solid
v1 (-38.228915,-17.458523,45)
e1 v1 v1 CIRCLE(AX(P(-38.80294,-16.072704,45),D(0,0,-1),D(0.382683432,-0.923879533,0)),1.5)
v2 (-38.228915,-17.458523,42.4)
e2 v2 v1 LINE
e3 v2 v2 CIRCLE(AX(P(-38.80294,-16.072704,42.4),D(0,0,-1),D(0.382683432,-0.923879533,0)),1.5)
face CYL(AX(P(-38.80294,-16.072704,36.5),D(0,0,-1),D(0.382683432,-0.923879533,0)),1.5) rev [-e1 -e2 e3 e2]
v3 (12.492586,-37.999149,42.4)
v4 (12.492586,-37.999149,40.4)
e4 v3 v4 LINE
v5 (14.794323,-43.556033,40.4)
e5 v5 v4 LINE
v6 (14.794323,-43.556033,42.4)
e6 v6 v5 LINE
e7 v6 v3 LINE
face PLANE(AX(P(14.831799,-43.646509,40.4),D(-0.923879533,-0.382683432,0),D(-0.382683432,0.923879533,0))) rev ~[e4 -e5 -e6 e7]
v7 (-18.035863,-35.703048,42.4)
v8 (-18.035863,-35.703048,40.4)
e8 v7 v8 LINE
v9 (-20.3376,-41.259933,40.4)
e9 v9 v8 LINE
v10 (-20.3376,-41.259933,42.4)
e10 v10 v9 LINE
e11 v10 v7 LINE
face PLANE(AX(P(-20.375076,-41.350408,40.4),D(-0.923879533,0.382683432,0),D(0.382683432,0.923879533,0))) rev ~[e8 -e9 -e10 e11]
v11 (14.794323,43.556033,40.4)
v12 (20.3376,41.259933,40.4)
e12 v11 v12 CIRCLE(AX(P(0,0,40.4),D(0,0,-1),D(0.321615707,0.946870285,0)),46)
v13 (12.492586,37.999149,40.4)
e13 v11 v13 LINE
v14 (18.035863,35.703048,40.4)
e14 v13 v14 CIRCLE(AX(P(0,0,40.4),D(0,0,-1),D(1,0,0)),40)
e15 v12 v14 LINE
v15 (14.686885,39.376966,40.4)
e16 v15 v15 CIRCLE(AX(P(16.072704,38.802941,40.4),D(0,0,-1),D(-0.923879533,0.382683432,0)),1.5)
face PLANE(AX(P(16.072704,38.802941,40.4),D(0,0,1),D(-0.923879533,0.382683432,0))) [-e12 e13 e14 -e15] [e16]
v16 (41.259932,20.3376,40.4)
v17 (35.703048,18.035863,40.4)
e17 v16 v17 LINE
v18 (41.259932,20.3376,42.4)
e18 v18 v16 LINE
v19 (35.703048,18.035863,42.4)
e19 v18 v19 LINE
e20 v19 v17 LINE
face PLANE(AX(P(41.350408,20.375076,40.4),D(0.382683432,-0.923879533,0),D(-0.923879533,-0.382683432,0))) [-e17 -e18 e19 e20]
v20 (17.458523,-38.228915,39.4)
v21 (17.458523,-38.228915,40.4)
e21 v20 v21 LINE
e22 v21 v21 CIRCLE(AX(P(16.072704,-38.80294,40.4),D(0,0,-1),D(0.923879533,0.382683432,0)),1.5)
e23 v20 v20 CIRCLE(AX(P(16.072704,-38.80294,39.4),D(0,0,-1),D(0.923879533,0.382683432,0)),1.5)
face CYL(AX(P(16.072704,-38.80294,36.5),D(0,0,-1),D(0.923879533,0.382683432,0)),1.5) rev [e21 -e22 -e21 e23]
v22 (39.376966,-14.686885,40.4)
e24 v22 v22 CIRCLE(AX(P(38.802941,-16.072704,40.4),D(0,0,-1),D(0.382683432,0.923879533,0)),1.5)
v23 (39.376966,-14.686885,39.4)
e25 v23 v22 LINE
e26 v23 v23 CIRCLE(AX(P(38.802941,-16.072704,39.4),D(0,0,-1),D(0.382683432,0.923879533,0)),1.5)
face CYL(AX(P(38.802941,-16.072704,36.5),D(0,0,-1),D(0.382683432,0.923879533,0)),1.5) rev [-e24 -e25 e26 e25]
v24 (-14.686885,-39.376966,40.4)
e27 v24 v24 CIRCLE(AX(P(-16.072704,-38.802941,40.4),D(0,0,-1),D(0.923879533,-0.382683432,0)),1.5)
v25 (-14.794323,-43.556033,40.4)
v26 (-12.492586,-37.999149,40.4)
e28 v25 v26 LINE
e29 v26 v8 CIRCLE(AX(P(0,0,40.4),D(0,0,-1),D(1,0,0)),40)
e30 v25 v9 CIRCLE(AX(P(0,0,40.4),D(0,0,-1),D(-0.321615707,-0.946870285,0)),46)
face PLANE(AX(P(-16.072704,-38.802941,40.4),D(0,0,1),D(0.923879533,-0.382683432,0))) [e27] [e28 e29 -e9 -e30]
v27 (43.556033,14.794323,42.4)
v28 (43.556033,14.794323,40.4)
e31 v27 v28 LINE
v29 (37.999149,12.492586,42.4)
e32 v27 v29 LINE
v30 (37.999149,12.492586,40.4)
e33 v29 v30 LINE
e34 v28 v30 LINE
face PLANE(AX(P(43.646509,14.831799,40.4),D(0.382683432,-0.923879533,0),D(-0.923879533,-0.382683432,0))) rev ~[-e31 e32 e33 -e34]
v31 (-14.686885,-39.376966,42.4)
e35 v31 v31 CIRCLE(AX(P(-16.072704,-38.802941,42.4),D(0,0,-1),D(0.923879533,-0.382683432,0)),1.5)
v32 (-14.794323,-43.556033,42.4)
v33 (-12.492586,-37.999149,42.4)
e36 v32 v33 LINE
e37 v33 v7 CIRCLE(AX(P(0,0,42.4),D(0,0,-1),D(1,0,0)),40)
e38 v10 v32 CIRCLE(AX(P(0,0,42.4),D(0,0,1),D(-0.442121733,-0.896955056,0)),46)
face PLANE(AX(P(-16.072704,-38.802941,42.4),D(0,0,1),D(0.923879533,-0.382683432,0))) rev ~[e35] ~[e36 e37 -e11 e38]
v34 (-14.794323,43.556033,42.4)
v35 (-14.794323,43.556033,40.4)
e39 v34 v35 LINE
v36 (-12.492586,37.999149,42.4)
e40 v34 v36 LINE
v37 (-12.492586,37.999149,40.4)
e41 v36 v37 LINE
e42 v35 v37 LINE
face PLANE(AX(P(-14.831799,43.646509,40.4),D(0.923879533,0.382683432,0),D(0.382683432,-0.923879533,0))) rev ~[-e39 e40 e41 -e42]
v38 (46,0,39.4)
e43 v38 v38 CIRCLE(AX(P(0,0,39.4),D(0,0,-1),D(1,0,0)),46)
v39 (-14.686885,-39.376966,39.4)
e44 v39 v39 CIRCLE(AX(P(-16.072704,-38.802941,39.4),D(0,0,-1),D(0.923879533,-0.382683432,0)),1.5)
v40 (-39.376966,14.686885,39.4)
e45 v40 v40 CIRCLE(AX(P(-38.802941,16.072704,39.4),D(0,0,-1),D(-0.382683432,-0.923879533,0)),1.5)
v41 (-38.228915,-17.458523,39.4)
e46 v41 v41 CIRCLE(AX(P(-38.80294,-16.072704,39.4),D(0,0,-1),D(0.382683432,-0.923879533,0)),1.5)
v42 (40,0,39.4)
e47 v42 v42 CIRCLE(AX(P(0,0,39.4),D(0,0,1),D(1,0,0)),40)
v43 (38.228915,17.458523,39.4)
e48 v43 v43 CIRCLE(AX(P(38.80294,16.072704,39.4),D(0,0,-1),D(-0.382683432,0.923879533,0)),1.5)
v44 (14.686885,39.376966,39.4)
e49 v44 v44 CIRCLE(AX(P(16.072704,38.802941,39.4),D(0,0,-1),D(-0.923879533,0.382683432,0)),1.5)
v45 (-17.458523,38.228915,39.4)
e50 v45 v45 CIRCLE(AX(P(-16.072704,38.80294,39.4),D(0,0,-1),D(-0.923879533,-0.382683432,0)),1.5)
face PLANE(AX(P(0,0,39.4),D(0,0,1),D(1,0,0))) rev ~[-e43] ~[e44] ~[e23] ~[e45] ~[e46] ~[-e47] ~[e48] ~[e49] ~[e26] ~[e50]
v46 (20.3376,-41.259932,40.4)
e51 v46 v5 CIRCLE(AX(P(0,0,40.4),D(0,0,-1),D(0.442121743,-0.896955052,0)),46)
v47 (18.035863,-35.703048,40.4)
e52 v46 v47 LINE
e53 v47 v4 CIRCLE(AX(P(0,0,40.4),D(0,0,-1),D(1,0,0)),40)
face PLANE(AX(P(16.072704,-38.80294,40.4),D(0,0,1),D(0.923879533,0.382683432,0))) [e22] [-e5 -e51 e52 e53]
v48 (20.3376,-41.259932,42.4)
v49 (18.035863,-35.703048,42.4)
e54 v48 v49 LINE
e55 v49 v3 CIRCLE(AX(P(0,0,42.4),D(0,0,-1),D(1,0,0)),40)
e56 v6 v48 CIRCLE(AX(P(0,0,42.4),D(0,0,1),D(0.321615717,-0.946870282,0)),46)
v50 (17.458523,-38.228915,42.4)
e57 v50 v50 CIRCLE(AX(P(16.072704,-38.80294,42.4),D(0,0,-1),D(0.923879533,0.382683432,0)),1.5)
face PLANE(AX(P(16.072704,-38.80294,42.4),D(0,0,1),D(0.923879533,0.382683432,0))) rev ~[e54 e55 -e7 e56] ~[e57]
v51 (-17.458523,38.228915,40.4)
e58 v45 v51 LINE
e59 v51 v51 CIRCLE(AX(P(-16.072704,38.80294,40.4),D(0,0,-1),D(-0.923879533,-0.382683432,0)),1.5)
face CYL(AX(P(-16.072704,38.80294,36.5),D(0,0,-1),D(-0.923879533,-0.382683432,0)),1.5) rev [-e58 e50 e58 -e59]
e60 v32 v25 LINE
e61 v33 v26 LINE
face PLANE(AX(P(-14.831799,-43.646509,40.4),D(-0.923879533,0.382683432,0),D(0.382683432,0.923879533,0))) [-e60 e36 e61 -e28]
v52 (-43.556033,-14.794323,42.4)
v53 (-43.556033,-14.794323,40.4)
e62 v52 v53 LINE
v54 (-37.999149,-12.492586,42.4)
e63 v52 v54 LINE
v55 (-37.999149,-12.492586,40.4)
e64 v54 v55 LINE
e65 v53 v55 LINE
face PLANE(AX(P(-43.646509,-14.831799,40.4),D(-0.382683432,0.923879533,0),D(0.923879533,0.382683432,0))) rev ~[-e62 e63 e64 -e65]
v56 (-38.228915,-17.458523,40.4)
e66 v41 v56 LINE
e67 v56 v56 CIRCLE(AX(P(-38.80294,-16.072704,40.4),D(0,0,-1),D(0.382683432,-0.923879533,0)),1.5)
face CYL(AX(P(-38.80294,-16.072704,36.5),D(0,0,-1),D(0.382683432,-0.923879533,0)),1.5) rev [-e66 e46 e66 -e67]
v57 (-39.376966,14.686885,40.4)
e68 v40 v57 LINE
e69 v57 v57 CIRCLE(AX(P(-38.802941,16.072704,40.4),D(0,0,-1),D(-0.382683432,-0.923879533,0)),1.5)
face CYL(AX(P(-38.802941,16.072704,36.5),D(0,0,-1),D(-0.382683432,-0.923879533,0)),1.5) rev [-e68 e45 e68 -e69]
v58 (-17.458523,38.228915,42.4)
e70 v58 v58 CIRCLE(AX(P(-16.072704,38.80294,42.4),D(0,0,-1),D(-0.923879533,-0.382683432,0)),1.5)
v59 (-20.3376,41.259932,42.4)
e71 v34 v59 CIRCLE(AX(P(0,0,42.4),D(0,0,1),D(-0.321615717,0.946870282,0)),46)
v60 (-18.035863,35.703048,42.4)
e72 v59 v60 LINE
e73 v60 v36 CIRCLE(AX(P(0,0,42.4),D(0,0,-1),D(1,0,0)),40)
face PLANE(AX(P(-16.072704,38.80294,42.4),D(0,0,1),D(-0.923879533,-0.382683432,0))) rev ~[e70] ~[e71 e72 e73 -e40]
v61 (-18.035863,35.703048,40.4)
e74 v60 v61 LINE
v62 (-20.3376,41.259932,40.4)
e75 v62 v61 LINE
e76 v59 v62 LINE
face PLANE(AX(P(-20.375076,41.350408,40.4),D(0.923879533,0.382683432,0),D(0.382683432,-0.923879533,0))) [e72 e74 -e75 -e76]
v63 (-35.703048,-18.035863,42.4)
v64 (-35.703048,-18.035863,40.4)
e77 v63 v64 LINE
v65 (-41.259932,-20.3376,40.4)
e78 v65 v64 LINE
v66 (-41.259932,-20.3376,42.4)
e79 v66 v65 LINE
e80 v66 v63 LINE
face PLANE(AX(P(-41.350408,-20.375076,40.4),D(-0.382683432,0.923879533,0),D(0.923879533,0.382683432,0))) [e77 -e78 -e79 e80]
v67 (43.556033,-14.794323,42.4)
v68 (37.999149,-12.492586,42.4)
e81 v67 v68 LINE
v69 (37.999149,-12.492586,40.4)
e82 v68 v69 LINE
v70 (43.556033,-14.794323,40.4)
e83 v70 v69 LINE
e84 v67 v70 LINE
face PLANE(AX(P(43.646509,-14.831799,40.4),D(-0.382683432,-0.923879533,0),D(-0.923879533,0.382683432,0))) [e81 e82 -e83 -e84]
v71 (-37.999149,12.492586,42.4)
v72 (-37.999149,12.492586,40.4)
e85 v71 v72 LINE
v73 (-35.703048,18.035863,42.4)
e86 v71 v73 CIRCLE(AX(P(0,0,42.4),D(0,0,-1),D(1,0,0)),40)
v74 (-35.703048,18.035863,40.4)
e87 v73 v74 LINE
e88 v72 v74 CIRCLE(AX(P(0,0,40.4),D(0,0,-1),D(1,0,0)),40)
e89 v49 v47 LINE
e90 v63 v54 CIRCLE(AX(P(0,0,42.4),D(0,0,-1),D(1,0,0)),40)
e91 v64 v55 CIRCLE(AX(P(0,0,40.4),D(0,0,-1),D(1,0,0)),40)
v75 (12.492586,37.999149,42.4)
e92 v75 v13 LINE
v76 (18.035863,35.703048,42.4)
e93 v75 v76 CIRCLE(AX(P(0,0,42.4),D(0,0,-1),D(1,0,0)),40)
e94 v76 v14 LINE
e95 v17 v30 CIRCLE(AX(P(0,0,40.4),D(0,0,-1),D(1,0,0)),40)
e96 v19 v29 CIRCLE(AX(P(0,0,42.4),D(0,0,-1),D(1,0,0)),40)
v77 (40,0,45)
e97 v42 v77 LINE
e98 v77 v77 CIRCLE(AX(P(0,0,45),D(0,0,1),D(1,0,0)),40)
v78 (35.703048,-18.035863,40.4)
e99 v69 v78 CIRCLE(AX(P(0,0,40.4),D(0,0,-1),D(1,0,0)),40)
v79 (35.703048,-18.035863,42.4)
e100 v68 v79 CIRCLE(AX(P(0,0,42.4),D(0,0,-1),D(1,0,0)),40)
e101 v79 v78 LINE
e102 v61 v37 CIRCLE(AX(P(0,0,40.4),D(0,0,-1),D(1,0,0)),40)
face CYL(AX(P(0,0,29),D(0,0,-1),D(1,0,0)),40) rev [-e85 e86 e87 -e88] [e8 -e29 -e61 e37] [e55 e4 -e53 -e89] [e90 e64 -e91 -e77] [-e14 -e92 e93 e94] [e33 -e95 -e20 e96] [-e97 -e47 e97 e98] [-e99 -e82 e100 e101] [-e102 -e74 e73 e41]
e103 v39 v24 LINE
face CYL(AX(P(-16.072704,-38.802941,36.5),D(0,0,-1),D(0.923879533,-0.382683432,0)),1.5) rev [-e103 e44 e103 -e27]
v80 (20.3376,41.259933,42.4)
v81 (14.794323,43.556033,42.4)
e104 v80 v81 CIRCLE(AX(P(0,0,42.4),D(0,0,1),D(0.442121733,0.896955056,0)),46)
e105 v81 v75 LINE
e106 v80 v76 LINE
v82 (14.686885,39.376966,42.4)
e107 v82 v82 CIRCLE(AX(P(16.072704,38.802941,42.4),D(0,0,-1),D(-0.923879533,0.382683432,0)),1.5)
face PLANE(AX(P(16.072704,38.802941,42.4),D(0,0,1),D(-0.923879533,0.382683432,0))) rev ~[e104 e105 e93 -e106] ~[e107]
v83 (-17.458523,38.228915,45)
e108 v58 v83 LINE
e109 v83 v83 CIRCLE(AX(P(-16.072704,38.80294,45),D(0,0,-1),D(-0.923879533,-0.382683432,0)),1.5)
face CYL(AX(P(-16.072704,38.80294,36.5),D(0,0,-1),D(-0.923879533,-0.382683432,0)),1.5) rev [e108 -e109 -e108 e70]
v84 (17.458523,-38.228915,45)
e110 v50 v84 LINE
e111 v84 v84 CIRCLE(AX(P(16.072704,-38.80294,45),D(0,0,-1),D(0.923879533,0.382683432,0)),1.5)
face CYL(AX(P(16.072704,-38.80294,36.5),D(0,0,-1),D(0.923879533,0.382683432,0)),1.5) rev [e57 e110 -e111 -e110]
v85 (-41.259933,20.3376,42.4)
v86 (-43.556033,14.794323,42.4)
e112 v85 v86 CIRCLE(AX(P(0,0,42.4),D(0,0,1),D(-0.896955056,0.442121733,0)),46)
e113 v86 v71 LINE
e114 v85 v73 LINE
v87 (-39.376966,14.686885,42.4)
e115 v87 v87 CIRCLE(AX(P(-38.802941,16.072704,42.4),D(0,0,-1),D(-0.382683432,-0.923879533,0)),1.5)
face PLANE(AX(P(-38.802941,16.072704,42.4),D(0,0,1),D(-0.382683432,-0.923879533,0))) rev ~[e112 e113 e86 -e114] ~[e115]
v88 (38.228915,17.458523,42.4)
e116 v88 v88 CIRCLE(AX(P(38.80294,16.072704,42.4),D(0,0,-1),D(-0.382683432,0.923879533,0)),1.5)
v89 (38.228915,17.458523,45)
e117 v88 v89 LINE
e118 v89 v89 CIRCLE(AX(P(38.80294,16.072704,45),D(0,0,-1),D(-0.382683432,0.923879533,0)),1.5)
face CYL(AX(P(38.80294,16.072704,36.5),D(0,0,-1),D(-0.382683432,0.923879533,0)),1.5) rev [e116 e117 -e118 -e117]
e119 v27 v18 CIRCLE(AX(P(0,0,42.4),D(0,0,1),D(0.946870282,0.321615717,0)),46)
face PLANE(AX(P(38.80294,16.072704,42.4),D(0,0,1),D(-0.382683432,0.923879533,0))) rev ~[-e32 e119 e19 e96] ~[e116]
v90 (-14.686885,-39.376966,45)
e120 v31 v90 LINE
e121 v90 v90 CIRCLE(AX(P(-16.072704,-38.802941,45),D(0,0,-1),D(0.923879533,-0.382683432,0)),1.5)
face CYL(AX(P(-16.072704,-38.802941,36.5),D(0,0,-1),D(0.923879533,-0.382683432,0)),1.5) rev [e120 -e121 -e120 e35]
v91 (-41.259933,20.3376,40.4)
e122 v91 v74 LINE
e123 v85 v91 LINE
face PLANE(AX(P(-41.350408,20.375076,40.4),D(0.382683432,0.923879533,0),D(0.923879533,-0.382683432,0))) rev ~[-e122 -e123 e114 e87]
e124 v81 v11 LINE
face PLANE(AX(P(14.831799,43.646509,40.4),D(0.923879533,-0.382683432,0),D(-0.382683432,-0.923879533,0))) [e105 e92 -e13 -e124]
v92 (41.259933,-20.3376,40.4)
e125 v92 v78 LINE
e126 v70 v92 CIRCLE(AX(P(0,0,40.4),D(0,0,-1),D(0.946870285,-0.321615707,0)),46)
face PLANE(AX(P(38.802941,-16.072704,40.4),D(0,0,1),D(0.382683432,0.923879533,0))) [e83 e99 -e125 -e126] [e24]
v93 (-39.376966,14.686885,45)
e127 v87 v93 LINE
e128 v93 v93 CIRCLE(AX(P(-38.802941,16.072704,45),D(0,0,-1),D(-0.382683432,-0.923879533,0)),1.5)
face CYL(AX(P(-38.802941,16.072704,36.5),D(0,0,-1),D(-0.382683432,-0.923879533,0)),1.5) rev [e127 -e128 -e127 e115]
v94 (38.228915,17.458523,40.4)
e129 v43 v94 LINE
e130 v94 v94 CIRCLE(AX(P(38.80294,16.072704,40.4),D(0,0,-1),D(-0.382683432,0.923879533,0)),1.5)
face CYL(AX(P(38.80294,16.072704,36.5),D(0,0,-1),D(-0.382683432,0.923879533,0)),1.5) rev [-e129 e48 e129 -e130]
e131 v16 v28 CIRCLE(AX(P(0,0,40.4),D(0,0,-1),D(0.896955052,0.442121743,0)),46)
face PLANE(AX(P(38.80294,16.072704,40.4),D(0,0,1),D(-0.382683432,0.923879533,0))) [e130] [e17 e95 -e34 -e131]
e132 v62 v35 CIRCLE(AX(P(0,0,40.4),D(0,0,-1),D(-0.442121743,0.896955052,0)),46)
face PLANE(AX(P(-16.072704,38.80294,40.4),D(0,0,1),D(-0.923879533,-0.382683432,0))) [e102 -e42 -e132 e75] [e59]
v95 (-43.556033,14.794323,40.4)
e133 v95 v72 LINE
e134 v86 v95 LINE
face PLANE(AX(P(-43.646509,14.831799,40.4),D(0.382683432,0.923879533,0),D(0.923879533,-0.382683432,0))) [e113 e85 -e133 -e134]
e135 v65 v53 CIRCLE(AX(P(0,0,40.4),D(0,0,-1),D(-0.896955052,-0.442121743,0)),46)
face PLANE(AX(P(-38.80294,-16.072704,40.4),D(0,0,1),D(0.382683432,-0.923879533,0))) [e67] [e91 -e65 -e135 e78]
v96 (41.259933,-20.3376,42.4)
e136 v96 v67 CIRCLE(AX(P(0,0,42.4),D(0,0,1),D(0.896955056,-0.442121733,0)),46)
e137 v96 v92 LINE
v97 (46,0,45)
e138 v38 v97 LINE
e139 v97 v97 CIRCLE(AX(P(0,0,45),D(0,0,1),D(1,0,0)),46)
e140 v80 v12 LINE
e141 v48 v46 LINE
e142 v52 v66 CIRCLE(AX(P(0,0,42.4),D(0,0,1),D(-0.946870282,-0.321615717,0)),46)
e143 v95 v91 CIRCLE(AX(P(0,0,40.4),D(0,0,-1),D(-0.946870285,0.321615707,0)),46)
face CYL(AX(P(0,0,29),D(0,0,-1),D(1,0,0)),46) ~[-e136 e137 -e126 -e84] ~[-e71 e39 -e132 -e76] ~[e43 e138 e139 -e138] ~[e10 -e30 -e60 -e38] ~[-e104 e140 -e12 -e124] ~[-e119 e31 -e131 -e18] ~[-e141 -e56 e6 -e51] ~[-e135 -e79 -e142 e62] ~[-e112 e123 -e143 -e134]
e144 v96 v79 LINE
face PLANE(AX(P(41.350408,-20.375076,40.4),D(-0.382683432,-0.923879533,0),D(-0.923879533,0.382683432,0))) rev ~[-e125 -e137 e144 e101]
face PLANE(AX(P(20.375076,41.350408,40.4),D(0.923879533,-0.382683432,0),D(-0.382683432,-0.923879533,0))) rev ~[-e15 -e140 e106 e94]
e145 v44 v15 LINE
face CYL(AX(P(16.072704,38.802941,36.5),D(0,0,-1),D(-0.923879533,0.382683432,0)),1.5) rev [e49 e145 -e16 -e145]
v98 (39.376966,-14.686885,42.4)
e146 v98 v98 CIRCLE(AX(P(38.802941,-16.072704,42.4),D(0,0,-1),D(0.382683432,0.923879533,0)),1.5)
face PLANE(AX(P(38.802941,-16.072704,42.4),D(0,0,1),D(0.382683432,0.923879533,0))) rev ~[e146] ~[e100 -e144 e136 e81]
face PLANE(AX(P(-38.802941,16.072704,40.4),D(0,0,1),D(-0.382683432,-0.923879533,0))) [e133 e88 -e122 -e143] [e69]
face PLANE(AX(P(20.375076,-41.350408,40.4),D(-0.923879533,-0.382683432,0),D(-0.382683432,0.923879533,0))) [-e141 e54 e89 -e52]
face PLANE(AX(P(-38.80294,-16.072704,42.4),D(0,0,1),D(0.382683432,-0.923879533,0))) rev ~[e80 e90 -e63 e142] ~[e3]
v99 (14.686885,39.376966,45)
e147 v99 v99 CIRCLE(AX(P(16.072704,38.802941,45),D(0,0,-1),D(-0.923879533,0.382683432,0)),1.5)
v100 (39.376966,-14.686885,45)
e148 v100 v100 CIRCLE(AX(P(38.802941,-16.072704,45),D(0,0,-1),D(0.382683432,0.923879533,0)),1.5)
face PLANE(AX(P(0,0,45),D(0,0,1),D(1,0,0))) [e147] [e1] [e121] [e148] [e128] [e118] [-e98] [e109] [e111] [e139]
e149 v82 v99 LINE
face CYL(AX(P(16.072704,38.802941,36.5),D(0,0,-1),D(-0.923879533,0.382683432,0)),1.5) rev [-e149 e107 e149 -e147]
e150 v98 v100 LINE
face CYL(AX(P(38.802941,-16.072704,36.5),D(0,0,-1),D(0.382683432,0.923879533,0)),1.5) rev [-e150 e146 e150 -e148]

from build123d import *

# Parameters (mm, degrees)
BOX572_W                     = 6
BOX572_H                     = 8
BOX572_DEPTH                 = 2
BOX572_PLACEMENT_ANGLE       = 45
BOX570_W                     = 6
BOX570_H                     = 8
BOX570_DEPTH                 = 2
BOX569_W                     = 6
BOX569_H                     = 8
BOX569_DEPTH                 = 2
BOX573_W                     = 6
BOX573_H                     = 8
BOX573_DEPTH                 = 2
BOX573_PLACEMENT_ANGLE       = 135
BOX574_W                     = 6
BOX574_H                     = 8
BOX574_DEPTH                 = 2
BOX571_W                     = 6
BOX571_H                     = 8
BOX571_DEPTH                 = 2
BOX571_PLACEMENT_ANGLE       = 225
BOX575_W                     = 6
BOX575_H                     = 8
BOX575_DEPTH                 = 2
BOX568_W                     = 6
BOX568_H                     = 8
BOX568_DEPTH                 = 2
BOX568_PLACEMENT_ANGLE       = 45
COMPOUND948_PLACEMENT_ANGLE  = 22.5
CYLINDER1361_R               = 1.5
CYLINDER1361_DEPTH           = 32
CYLINDER1361_PLACEMENT_ANGLE = 45
CYLINDER1364_R               = 1.5
CYLINDER1364_DEPTH           = 32
CYLINDER1362_R               = 1.5
CYLINDER1362_DEPTH           = 32
CYLINDER1362_PLACEMENT_ANGLE = 135
CYLINDER1360_R               = 1.5
CYLINDER1360_DEPTH           = 32
CYLINDER1358_R               = 1.5
CYLINDER1358_DEPTH           = 32
CYLINDER1358_PLACEMENT_ANGLE = 225
CYLINDER1363_R               = 1.5
CYLINDER1363_DEPTH           = 32
CYLINDER1357_R               = 1.5
CYLINDER1357_DEPTH           = 32
CYLINDER1357_PLACEMENT_ANGLE = 45
CYLINDER1359_R               = 1.5
CYLINDER1359_DEPTH           = 32
COMPOUND949_PLACEMENT_ANGLE  = 22.5
TUBE124_R                    = 50
TUBE124_R_2                  = 40
TUBE124_DEPTH                = 11
TUBE123_R                    = 46
TUBE123_R_2                  = 40
TUBE123_DEPTH                = 16


with BuildPart() as krychle572:
    # Box572 → Box572 (new body)
    with BuildSketch(Plane.XY):
        with Locations((3, 4)):
            Rectangle(BOX572_W, BOX572_H)
    extrude(amount=BOX572_DEPTH)


with BuildPart() as krychle572_1:
    # Box572 placement: moved
    add(krychle572.part.moved(Location((30.405592, -34.648232, 33))).rotate(Axis((30.405592, -34.648232, 33), (0, 0, 1)), BOX572_PLACEMENT_ANGLE))


with BuildPart() as krychle570:
    # Box570 → Box570 (new body)
    with BuildSketch(Plane(origin=(46, -3, 33), x_dir=(0, 1, 0), z_dir=(0, 0, 1))):
        with Locations((3, 4)):
            Rectangle(BOX570_W, BOX570_H)
    extrude(amount=BOX570_DEPTH)


with BuildPart() as krychle569:
    # Box569 → Box569 (new body)
    with BuildSketch(Plane(origin=(-3, -46, 33), x_dir=(1, 0, 0), z_dir=(0, 0, 1))):
        with Locations((3, 4)):
            Rectangle(BOX569_W, BOX569_H)
    extrude(amount=BOX569_DEPTH)


with BuildPart() as krychle573:
    # Box573 → Box573 (new body)
    with BuildSketch(Plane.XY):
        with Locations((3, 4)):
            Rectangle(BOX573_W, BOX573_H)
    extrude(amount=BOX573_DEPTH)


with BuildPart() as krychle573_1:
    # Box573 placement: moved
    add(krychle573.part.moved(Location((34.648232, 30.405592, 33))).rotate(Axis((34.648232, 30.405592, 33), (0, 0, 1)), BOX573_PLACEMENT_ANGLE))


with BuildPart() as krychle574:
    # Box574 → Box574 (new body)
    with BuildSketch(Plane(origin=(3, 46, 33), x_dir=(-1, 0, 0), z_dir=(0, 0, 1))):
        with Locations((3, 4)):
            Rectangle(BOX574_W, BOX574_H)
    extrude(amount=BOX574_DEPTH)


with BuildPart() as krychle571:
    # Box571 → Box571 (new body)
    with BuildSketch(Plane.XY):
        with Locations((3, 4)):
            Rectangle(BOX571_W, BOX571_H)
    extrude(amount=BOX571_DEPTH)


with BuildPart() as krychle571_1:
    # Box571 placement: moved
    add(krychle571.part.moved(Location((-30.405592, 34.648232, 33))).rotate(Axis((-30.405592, 34.648232, 33), (0, 0, 1)), BOX571_PLACEMENT_ANGLE))


with BuildPart() as krychle575:
    # Box575 → Box575 (new body)
    with BuildSketch(Plane(origin=(-46, 3, 33), x_dir=(0, -1, 0), z_dir=(0, 0, 1))):
        with Locations((3, 4)):
            Rectangle(BOX575_W, BOX575_H)
    extrude(amount=BOX575_DEPTH)


with BuildPart() as compound948:
    # Box568 → Box568 (new body)
    with BuildSketch(Plane.XY):
        with Locations((3, 4)):
            Rectangle(BOX568_W, BOX568_H)
    extrude(amount=BOX568_DEPTH)


with BuildPart() as compound948_1:
    # Box568 placement: moved
    add(compound948.part.moved(Location((-34.648232, -30.405592, 33))).rotate(Axis((-34.648232, -30.405592, 33), (0, 0, -1)), BOX568_PLACEMENT_ANGLE))

    # Compound948: union Krychle572, Krychle570, Krychle569, Krychle573, Krychle574, Krychle571, Krychle575
    add(krychle572_1.part)
    add(krychle570.part)
    add(krychle569.part)
    add(krychle573_1.part)
    add(krychle574.part)
    add(krychle571_1.part)
    add(krychle575.part)


with BuildPart() as compound948_2:
    # Compound948 placement: moved
    add(compound948_1.part.moved(Location((0, 0, 4.4))).rotate(Axis((0, 0, 4.4), (0, 0, 1)), COMPOUND948_PLACEMENT_ANGLE))


with BuildPart() as v_lec1361:
    # Cylinder1361 → Cylinder1361 (new body)
    with BuildSketch(Plane.XY):
        Circle(CYLINDER1361_R)
    extrude(amount=CYLINDER1361_DEPTH)


with BuildPart() as v_lec1361_1:
    # Cylinder1361 placement: moved
    add(v_lec1361.part.moved(Location((29.698485, -29.698485, 33.5))).rotate(Axis((29.698485, -29.698485, 33.5), (0, 0, 1)), CYLINDER1361_PLACEMENT_ANGLE))


with BuildPart() as v_lec1364:
    # Cylinder1364 → Cylinder1364 (new body)
    with BuildSketch(Plane(origin=(42, 0, 33.5), x_dir=(0, 1, 0), z_dir=(0, 0, 1))):
        Circle(CYLINDER1364_R)
    extrude(amount=CYLINDER1364_DEPTH)


with BuildPart() as v_lec1362:
    # Cylinder1362 → Cylinder1362 (new body)
    with BuildSketch(Plane.XY):
        Circle(CYLINDER1362_R)
    extrude(amount=CYLINDER1362_DEPTH)


with BuildPart() as v_lec1362_1:
    # Cylinder1362 placement: moved
    add(v_lec1362.part.moved(Location((29.698485, 29.698485, 33.5))).rotate(Axis((29.698485, 29.698485, 33.5), (0, 0, 1)), CYLINDER1362_PLACEMENT_ANGLE))


with BuildPart() as v_lec1360:
    # Cylinder1360 → Cylinder1360 (new body)
    with BuildSketch(Plane(origin=(0, 42, 33.5), x_dir=(-1, 0, 0), z_dir=(0, 0, 1))):
        Circle(CYLINDER1360_R)
    extrude(amount=CYLINDER1360_DEPTH)


with BuildPart() as v_lec1358:
    # Cylinder1358 → Cylinder1358 (new body)
    with BuildSketch(Plane.XY):
        Circle(CYLINDER1358_R)
    extrude(amount=CYLINDER1358_DEPTH)


with BuildPart() as v_lec1358_1:
    # Cylinder1358 placement: moved
    add(v_lec1358.part.moved(Location((-29.698485, 29.698485, 33.5))).rotate(Axis((-29.698485, 29.698485, 33.5), (0, 0, 1)), CYLINDER1358_PLACEMENT_ANGLE))


with BuildPart() as v_lec1363:
    # Cylinder1363 → Cylinder1363 (new body)
    with BuildSketch(Plane(origin=(-42, 0, 33.5), x_dir=(0, -1, 0), z_dir=(0, 0, 1))):
        Circle(CYLINDER1363_R)
    extrude(amount=CYLINDER1363_DEPTH)


with BuildPart() as v_lec1357:
    # Cylinder1357 → Cylinder1357 (new body)
    with BuildSketch(Plane.XY):
        Circle(CYLINDER1357_R)
    extrude(amount=CYLINDER1357_DEPTH)


with BuildPart() as v_lec1357_1:
    # Cylinder1357 placement: moved
    add(v_lec1357.part.moved(Location((-29.698485, -29.698485, 33.5))).rotate(Axis((-29.698485, -29.698485, 33.5), (0, 0, -1)), CYLINDER1357_PLACEMENT_ANGLE))


with BuildPart() as compound949:
    # Cylinder1359 → Cylinder1359 (new body)
    with BuildSketch(Plane(origin=(0, -42, 33.5), x_dir=(1, 0, 0), z_dir=(0, 0, 1))):
        Circle(CYLINDER1359_R)
    extrude(amount=CYLINDER1359_DEPTH)

    # Compound949: union Válec1361, Válec1364, Válec1362, Válec1360, Válec1358, Válec1363, Válec1357
    add(v_lec1361_1.part)
    add(v_lec1364.part)
    add(v_lec1362_1.part)
    add(v_lec1360.part)
    add(v_lec1358_1.part)
    add(v_lec1363.part)
    add(v_lec1357_1.part)


with BuildPart() as compound949_1:
    # Compound949 placement: moved
    add(compound949.part.rotate(Axis((0, 0, 0), (0, 0, 1)), COMPOUND949_PLACEMENT_ANGLE))


with BuildPart() as tube124:
    # Tube124 → Tube124 (new body)
    with BuildSketch(Plane.XY.offset(25.4)):
        Circle(TUBE124_R)
        Circle(TUBE124_R_2, mode=Mode.SUBTRACT)
    extrude(amount=TUBE124_DEPTH)


with BuildPart() as cut496:
    # Tube123 → Tube123 (new body)
    with BuildSketch(Plane.XY.offset(26)):
        Circle(TUBE123_R)
        Circle(TUBE123_R_2, mode=Mode.SUBTRACT)
    extrude(amount=TUBE123_DEPTH)

    # Cut493: cut Tube124
    add(tube124.part, mode=Mode.SUBTRACT)

    # Cut495: cut Compound949
    add(compound949_1.part, mode=Mode.SUBTRACT)

    # Cut496: cut Compound948
    add(compound948_2.part, mode=Mode.SUBTRACT)


with BuildPart() as cut496_1:
    # Cut496 placement: moved
    add(cut496.part.moved(Location((0, 0, 3))))


solid = cut496_1.part
